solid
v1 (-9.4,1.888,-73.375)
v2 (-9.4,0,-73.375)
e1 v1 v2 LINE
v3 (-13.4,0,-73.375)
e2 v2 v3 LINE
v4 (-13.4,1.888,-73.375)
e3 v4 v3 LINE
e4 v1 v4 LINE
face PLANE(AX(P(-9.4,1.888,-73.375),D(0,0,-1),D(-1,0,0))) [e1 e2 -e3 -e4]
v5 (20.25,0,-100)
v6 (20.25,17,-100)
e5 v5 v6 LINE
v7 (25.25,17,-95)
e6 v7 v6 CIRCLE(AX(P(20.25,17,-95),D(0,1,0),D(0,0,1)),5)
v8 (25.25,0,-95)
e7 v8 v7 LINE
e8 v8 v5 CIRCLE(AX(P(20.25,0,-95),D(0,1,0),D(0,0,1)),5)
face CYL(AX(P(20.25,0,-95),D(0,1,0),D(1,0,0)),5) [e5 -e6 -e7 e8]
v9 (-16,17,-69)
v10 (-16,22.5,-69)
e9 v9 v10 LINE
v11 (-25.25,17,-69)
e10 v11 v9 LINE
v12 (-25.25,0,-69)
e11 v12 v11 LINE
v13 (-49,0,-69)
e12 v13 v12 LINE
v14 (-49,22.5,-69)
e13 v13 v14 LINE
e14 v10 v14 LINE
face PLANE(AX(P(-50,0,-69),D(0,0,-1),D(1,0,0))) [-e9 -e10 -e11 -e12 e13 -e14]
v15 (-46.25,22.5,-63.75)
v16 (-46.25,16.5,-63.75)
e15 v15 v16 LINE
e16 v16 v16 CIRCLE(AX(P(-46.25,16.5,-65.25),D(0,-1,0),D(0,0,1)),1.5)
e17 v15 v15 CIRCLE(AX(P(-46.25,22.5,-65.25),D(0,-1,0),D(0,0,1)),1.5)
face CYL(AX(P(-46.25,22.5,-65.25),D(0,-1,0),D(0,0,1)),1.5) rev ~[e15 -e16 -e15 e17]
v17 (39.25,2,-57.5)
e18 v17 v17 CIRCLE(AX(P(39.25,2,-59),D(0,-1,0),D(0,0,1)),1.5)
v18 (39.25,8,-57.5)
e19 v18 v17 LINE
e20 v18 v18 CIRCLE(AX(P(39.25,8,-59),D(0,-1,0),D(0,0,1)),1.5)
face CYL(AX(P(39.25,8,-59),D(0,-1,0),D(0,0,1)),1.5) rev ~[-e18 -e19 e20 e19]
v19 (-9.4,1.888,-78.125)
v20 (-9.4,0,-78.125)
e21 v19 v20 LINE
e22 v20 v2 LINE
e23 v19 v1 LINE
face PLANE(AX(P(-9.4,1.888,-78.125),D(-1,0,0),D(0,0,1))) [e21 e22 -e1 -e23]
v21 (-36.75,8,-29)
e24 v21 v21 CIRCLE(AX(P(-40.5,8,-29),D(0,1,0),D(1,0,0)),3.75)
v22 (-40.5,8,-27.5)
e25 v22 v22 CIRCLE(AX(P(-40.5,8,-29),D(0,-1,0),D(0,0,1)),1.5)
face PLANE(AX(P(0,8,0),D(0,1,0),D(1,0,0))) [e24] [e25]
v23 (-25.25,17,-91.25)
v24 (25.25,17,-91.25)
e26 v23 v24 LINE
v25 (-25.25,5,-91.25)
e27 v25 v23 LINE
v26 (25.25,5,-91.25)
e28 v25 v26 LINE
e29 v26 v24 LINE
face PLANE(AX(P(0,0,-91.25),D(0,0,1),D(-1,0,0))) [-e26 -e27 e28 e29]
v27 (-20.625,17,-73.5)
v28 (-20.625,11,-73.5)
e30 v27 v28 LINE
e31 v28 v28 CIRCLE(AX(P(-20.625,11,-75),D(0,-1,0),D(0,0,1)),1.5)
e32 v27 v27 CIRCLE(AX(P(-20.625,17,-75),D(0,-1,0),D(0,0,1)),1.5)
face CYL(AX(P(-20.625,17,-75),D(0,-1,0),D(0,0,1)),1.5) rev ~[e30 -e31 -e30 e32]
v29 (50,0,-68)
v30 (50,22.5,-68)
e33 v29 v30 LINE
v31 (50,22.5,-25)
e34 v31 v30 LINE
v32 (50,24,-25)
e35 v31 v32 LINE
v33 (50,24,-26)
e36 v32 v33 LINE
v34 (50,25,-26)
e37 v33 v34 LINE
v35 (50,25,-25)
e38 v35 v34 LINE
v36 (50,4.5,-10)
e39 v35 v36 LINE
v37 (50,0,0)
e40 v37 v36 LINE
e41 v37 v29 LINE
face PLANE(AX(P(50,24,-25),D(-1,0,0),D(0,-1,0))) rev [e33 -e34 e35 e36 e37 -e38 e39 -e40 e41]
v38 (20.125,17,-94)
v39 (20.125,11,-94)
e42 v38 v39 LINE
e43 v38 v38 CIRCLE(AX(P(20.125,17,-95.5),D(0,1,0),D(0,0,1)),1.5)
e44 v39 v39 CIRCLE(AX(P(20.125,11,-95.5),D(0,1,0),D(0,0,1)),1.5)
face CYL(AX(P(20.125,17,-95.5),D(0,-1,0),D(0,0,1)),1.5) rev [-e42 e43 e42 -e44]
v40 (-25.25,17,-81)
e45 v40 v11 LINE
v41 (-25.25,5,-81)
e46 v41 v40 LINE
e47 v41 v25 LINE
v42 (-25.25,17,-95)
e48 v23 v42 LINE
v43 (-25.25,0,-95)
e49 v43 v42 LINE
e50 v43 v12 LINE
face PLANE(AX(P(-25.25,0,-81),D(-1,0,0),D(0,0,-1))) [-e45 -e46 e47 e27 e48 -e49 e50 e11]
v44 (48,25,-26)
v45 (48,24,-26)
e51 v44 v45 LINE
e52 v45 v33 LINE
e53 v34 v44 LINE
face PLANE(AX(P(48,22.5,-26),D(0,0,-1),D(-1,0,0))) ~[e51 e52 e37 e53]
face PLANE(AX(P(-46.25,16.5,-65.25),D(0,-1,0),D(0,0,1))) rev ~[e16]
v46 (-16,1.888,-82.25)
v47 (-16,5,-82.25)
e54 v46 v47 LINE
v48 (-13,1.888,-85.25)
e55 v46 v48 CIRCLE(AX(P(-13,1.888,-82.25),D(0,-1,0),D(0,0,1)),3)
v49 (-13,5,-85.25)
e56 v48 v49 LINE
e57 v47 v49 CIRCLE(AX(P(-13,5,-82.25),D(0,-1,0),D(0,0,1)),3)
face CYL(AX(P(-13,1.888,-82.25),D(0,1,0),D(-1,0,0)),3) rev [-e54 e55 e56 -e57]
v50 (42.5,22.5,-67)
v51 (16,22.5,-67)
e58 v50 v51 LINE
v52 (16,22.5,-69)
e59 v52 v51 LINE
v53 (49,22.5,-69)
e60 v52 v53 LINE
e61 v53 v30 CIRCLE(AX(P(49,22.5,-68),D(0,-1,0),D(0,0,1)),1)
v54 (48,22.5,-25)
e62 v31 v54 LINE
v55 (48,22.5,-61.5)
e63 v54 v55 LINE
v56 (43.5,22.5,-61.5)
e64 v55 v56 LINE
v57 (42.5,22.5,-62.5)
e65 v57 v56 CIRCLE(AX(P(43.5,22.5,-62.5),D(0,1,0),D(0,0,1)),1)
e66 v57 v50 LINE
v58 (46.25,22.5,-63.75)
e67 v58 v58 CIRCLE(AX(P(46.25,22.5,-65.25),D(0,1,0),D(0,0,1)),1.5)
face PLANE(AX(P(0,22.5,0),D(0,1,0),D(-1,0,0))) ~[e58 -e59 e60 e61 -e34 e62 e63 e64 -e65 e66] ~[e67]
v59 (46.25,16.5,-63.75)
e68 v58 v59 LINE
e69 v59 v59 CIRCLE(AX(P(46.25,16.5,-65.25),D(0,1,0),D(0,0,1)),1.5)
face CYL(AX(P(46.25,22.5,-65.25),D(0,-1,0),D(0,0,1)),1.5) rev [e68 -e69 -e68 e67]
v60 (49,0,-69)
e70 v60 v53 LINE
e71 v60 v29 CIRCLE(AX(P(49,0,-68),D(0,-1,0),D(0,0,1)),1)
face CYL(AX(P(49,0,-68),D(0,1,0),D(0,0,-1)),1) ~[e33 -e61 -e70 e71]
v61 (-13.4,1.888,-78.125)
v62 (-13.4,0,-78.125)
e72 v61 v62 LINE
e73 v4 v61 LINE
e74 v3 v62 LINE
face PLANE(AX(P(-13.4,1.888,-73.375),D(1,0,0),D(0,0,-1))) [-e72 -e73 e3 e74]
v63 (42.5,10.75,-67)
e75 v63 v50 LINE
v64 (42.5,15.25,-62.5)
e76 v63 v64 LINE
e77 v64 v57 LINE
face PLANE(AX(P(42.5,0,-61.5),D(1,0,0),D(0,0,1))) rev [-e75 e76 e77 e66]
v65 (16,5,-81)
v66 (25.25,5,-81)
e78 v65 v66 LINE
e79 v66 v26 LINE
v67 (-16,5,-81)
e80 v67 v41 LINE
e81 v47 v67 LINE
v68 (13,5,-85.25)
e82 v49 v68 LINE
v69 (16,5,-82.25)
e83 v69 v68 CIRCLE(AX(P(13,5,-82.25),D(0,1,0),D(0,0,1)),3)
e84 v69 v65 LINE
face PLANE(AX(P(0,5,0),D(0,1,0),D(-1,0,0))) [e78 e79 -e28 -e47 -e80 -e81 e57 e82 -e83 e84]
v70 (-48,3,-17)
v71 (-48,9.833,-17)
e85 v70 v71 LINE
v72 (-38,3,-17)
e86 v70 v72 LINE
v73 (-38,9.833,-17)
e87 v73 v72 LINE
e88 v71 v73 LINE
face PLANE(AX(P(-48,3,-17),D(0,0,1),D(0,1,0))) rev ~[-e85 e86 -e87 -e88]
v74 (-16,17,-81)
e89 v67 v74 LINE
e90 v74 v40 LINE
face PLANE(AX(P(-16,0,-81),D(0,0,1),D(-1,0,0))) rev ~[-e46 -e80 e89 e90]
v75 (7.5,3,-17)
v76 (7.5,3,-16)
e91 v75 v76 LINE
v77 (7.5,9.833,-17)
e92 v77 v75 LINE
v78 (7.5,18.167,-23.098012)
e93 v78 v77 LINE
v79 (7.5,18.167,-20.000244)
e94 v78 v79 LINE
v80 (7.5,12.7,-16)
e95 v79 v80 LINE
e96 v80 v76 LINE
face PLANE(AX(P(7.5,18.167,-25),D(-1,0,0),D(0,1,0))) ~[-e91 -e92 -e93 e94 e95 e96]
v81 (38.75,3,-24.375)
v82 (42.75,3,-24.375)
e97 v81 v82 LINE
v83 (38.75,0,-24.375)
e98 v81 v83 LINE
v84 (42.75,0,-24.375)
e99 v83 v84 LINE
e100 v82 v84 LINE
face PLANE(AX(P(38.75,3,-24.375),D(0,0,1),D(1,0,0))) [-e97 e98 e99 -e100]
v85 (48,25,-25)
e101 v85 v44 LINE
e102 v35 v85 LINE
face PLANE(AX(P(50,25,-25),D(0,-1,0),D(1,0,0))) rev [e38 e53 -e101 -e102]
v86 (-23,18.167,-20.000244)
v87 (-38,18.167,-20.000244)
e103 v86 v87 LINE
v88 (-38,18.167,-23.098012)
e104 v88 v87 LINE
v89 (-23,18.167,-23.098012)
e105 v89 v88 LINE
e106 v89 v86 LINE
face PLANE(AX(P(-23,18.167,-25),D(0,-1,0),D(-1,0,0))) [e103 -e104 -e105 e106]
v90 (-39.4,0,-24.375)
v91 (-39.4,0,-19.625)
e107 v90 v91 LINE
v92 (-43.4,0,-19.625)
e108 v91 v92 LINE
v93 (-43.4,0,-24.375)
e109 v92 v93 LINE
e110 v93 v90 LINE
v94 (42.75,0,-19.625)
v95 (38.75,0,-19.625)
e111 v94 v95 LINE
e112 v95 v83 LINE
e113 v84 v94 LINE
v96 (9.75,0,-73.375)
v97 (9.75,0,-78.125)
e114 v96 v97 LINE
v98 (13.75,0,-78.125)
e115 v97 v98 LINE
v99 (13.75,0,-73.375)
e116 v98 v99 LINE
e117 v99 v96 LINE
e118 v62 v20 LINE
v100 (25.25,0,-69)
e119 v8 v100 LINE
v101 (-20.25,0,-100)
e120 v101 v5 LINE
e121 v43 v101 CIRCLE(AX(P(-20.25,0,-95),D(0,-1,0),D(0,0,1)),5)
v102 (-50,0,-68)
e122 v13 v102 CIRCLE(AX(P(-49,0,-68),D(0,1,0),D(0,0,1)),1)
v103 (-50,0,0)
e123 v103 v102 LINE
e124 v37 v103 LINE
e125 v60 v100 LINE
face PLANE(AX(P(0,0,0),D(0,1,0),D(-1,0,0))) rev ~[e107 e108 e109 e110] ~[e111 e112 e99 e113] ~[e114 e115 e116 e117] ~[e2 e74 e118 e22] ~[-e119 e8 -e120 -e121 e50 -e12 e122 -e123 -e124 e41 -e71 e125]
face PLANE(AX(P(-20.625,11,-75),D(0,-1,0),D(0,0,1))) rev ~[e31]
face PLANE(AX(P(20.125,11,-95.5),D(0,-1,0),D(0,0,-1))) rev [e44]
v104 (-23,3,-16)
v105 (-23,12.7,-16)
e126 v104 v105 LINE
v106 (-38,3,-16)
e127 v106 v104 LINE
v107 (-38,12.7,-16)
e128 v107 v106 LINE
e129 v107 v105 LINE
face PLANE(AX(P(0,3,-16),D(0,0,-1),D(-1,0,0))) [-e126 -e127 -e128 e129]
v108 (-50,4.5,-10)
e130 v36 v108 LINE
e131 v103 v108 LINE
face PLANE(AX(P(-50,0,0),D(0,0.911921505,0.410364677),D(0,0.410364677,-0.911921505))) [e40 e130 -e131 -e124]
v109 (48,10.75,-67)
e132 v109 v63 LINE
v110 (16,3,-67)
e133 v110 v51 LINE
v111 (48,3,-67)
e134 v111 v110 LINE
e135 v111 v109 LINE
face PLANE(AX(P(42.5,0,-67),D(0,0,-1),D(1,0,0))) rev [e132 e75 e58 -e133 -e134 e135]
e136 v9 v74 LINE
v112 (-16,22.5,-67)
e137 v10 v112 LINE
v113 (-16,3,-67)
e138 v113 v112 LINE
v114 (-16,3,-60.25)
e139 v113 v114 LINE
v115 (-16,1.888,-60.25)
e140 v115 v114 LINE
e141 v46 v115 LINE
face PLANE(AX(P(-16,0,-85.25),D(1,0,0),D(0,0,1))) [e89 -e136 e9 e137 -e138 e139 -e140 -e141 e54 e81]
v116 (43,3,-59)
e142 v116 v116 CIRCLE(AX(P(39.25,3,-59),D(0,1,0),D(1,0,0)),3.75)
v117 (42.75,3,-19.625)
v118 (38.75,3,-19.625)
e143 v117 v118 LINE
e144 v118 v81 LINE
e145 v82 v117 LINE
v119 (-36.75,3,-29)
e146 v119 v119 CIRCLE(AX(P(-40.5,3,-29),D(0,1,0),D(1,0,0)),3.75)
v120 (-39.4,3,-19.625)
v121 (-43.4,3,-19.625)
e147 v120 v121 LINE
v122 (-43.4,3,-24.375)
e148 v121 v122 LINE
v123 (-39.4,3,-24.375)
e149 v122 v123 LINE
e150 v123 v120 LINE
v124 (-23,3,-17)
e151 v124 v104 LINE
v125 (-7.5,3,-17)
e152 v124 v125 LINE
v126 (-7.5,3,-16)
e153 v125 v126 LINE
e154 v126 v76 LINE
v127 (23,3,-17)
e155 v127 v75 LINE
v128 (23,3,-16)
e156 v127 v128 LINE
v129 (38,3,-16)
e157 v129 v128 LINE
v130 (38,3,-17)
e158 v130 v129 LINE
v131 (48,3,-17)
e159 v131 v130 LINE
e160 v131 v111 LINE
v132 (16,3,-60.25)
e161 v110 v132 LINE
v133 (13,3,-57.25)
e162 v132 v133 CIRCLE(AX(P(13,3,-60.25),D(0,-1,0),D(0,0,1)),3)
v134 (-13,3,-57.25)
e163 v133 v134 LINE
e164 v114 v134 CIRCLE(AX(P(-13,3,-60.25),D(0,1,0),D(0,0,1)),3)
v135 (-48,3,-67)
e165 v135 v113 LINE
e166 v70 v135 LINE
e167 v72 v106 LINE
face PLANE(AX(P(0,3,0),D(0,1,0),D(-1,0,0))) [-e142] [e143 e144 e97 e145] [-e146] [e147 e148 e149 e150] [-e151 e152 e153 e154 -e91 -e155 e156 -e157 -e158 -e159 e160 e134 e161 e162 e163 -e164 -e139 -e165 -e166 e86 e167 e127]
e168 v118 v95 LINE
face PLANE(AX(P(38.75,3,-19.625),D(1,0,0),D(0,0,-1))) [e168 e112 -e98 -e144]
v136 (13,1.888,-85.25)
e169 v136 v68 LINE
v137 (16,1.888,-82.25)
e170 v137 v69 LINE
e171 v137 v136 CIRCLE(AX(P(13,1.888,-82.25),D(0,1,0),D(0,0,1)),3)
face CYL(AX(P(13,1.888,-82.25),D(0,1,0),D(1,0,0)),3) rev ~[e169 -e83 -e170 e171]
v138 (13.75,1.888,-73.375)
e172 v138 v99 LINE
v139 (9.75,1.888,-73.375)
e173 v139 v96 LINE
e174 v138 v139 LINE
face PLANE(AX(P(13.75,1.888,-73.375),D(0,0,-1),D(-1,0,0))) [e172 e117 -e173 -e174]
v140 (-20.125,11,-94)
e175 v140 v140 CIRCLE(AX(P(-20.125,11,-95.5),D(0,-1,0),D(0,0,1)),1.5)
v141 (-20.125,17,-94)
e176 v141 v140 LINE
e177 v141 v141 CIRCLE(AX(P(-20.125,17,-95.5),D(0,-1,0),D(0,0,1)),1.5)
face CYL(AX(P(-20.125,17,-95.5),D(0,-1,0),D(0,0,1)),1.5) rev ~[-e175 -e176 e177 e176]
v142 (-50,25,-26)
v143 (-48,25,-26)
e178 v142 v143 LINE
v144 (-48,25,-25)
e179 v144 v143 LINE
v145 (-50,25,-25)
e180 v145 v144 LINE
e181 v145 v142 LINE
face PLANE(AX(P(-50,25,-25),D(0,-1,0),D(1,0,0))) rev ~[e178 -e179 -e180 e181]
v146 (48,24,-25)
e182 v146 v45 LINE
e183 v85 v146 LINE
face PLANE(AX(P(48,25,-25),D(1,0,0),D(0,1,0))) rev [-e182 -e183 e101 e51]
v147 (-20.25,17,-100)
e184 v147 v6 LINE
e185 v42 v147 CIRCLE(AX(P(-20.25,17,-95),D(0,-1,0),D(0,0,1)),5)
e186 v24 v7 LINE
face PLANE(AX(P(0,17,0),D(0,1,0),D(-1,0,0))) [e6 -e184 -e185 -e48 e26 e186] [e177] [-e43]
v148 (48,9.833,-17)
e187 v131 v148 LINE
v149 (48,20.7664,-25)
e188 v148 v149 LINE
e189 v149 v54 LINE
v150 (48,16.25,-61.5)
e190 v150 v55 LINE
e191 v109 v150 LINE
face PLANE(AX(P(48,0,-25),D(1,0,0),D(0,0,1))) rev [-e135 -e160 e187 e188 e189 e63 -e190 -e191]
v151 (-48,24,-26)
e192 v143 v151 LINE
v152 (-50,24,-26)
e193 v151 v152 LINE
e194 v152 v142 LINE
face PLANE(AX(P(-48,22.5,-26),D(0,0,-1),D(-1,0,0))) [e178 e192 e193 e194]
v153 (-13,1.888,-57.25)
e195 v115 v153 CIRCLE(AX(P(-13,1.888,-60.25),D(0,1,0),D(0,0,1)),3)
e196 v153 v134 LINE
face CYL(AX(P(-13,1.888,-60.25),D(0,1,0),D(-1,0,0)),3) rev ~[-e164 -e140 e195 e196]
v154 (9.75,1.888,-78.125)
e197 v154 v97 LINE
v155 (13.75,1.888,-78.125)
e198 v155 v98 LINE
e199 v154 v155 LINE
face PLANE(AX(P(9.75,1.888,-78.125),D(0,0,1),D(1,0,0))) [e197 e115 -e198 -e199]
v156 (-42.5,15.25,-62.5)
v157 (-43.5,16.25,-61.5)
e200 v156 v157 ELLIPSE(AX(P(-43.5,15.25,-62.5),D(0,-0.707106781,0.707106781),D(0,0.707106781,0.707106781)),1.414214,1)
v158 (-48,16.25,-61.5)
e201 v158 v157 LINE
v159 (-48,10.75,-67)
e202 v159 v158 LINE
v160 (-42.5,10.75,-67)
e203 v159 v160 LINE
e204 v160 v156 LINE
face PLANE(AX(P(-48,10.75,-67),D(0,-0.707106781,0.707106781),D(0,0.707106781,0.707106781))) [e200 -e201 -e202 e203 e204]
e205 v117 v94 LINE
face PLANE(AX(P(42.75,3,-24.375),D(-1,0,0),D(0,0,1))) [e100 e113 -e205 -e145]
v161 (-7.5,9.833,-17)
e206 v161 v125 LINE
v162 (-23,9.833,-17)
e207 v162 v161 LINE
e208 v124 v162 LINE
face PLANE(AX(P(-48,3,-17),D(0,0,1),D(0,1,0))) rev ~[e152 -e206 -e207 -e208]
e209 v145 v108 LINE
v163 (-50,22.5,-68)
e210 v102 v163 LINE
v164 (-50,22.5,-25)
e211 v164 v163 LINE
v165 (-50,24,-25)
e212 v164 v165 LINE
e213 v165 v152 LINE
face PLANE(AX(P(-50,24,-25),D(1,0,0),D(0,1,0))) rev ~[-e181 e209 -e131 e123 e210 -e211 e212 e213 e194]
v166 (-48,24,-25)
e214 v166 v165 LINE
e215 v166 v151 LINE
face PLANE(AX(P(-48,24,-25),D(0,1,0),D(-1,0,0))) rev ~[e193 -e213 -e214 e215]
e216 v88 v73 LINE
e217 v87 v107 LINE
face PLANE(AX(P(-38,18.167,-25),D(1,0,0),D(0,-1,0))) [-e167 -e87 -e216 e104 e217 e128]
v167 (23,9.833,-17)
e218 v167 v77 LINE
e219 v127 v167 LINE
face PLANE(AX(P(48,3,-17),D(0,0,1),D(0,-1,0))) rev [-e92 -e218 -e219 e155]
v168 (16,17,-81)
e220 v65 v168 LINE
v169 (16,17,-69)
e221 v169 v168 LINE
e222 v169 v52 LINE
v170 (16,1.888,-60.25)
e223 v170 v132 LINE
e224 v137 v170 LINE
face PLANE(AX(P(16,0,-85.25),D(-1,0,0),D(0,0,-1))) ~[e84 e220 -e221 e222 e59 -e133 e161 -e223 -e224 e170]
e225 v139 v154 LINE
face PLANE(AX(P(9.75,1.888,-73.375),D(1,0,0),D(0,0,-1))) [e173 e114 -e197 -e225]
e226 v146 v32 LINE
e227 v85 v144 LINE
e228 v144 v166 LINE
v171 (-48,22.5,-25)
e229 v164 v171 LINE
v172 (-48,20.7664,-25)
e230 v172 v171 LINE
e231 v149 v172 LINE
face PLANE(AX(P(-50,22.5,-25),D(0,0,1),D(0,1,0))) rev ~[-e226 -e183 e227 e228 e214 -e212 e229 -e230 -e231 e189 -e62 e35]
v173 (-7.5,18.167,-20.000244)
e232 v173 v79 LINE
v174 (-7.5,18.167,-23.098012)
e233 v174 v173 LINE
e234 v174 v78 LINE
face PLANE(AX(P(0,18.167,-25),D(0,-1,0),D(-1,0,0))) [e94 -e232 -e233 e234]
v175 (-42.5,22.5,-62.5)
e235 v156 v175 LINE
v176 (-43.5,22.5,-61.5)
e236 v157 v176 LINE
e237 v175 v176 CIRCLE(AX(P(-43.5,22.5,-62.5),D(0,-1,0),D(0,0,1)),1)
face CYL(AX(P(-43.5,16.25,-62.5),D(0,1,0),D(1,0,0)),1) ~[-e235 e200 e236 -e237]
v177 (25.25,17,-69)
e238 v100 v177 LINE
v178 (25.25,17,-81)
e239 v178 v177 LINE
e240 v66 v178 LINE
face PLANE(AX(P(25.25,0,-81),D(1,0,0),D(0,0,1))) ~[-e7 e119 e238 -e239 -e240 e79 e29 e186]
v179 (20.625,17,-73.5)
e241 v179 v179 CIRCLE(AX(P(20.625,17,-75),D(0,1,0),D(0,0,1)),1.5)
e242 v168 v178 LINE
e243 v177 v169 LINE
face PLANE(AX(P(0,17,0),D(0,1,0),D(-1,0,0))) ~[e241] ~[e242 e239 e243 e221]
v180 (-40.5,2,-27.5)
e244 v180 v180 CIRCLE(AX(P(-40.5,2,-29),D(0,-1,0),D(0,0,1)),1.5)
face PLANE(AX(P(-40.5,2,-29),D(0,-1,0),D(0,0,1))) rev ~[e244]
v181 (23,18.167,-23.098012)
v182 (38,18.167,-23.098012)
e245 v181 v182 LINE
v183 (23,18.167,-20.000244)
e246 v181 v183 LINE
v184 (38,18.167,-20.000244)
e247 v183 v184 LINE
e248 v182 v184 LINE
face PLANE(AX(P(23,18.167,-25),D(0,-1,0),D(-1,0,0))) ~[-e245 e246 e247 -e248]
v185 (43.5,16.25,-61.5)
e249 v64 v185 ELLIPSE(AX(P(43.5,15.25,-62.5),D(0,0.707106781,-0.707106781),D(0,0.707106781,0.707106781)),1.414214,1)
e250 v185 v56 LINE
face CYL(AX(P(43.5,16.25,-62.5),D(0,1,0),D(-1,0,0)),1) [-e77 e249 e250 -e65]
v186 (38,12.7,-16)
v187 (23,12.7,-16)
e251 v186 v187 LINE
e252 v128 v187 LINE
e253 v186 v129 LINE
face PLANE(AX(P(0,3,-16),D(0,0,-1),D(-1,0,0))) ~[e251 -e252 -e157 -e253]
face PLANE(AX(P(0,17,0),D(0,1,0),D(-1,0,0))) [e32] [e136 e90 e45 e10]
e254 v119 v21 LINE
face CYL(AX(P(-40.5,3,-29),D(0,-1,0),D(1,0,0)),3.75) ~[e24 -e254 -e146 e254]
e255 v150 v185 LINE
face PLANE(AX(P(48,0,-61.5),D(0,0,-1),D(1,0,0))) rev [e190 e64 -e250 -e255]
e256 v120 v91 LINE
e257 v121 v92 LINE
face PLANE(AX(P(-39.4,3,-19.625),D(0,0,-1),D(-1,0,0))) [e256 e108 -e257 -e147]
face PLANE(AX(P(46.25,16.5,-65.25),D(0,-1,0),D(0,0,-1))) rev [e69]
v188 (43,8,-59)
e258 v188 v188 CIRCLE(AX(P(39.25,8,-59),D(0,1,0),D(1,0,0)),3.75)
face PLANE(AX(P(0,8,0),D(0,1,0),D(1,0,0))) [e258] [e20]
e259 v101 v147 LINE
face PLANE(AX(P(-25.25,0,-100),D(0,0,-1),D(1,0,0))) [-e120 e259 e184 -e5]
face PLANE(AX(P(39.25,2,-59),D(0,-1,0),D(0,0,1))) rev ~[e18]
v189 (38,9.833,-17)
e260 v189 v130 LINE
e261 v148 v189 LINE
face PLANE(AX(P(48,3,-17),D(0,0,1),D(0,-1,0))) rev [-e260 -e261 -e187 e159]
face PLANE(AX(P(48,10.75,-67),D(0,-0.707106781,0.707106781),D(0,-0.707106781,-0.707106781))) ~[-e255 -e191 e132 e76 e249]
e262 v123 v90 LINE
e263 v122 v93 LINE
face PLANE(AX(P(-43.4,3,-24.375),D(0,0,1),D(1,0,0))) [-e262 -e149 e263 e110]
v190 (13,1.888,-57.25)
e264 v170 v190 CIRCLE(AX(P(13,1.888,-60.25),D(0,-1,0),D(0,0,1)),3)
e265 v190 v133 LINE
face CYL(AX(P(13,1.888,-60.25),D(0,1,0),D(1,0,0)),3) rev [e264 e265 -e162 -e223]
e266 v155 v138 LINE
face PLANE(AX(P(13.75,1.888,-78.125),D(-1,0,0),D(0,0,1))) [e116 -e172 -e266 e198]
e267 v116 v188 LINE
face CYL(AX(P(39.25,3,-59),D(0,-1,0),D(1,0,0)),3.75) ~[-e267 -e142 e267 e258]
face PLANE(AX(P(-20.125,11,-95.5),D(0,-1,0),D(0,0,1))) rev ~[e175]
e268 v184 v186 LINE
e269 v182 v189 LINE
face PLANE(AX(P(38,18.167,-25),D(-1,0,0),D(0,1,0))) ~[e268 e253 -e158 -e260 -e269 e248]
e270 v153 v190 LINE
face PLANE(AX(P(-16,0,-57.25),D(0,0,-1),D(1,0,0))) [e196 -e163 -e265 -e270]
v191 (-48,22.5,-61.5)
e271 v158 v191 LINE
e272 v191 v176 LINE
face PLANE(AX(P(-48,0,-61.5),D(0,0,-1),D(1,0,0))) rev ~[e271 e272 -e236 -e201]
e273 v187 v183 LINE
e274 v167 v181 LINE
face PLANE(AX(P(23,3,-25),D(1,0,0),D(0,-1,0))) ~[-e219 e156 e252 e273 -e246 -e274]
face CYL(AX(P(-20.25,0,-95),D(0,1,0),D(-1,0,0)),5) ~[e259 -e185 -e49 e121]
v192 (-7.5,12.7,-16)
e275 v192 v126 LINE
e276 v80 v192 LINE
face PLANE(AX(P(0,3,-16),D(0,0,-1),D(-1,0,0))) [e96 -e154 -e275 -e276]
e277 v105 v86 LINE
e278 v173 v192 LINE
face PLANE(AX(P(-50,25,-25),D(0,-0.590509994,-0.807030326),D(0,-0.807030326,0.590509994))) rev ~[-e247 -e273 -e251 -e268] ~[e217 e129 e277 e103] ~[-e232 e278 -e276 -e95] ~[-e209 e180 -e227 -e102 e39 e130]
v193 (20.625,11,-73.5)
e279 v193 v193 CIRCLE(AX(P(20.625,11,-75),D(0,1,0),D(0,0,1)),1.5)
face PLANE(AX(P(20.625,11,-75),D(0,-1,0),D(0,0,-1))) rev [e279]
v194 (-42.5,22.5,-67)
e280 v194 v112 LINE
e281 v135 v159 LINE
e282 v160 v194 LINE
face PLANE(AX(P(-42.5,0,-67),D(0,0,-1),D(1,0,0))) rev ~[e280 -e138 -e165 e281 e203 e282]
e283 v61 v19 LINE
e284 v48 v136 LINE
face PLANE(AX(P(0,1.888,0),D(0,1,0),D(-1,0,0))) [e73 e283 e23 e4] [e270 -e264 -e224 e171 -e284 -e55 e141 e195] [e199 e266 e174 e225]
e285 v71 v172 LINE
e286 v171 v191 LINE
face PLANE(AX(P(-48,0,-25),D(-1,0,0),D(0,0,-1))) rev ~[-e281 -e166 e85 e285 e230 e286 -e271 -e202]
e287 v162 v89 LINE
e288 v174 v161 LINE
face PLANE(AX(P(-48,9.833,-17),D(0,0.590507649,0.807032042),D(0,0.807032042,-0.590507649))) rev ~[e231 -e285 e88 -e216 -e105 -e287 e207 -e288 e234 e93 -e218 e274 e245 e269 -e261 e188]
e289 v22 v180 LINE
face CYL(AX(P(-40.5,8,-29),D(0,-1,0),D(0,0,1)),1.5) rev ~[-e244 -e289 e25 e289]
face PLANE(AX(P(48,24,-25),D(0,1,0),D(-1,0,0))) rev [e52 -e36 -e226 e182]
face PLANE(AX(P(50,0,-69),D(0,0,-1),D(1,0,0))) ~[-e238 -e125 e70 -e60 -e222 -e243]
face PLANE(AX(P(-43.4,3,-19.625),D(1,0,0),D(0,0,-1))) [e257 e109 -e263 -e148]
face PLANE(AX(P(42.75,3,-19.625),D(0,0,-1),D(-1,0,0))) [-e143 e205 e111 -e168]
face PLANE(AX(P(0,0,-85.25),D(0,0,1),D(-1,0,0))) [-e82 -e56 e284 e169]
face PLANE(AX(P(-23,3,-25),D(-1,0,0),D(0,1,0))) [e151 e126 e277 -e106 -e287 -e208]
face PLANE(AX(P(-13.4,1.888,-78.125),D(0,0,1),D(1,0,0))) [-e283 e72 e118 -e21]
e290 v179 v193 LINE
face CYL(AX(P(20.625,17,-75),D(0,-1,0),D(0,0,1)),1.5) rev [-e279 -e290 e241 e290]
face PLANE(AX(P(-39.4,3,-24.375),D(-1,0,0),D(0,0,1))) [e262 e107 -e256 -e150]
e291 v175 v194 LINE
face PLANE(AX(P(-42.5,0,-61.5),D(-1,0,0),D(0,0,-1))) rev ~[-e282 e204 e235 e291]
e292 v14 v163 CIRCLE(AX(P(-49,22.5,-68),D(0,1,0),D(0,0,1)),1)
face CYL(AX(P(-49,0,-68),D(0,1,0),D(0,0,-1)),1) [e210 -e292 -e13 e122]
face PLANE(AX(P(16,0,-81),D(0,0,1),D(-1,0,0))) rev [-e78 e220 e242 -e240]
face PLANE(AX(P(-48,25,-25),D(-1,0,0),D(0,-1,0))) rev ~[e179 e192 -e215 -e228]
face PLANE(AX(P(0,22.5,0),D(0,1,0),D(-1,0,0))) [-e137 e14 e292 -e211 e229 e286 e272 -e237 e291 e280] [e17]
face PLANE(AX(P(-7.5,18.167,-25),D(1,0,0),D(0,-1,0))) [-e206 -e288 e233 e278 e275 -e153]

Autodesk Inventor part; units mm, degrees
ref_plane "YZ Plane" through (0, 0, 0) normal (1, 0, 0) x (0, 1, 0)
ref_plane "XZ Plane" through (0, 0, 0) normal (0, 1, 0) x (-1, 0, 0)
ref_plane "XY Plane" through (0, 0, 0) normal (0, 0, 1) x (1, 0, 0)
sketch "Náčrt1" plane through (0, 0, 0) normal (0, 1, 0) x (-1, 0, 0)
  line L0 (0, 0) -> (50, 0)
  line L1 (50, 0) -> (50, -69)
  line L2 (50, -69) -> (16, -69)
  line L3 (16, -69) -> (16, -81)
  line L4 (16, -81) -> (25.25, -81)
  line L5 (25.25, -81) -> (25.25, -69)
  line L6 (25.25, -81) -> (25.25, -91.25)
  line L7 (25.25, -91.25) -> (25.25, -100)
  line L8 (25.25, -100) -> (0, -100)
  line L9 (0, -100) -> (0, -91.25)
  line L10 (0, -91.25) -> (25.25, -91.25)
  line L11 (0, -91.25) -> (0, -85.25)
  line L12 (0, -85.25) -> (16, -85.25)
  line L13 (16, -85.25) -> (16, -81)
  line L14 (0, -85.25) -> (0, 0)
  line L15 (16, -69) -> (16, -57.25)
  line L16 (16, -57.25) -> (0, -57.25)
  line L17 (48, -25) -> (48, -61.5)
  line L18 (48, -61.5) -> (42.5, -61.5)
  line L19 (42.5, -61.5) -> (42.5, -67)
  line L20 (42.5, -67) -> (16, -67)
  line L21 (0, -25) -> (48, -25)
  dimension "d0" = 50
  dimension "d1" = 69
  dimension "d2" = 12
  dimension "d3" = 10.25
  dimension "d4" = 8.75
  dimension "d5" = 25.25
  dimension "d6" = 16
  dimension "d7" = 6
  dimension "d9" = 2
  dimension "d10" = 7.5
  dimension "d11" = 7.5
  dimension "d12" = 28
  dimension "d13" = 25
  dimension "d18" = 2
extrude "Vysunutí1" add sketch "Náčrt1" along normal blind 3 contours L21 L17 L18 L19 L20 L15 L16 L14
extrude "Vysunutí2" add sketch "Náčrt1" along normal blind 1.888 contours L16 L15 L3 L13 L12 L14
extrude "Vysunutí3" add sketch "Náčrt1" along normal blind 22.5 contours L0 L1 L2 L15 L20 L19 L18 L17 L21 L14
extrude "Vysunutí4" add sketch "Náčrt1" along normal blind 17 contours L5 L4 L3 L2 | L10 L7 L8 L9
extrude "Vysunutí15" add sketch "Náčrt1" along normal blind 5 contours L12 L13 L4 L6 L10 L11
sketch "Náčrt15" plane through (-48, 3, -61.5) normal (1, 0, 0) x (0, 0, -1)
  line L0 (5.5, 0) -> (5.5, 19.5) projected
  line L1 (0, 0) -> (0, 19.5) projected
  line L2 (0, 0) -> (5.5, 0)
  line L3 (5.5, 0) -> (5.5, 7.75)
  line L4 (5.5, 0) -> (5.5, 19.5) projected
  line L5 (5.5, 7.75) -> (0, 13.25)
  line L6 (0, 0) -> (0, 13.25)
  line L7 (0, 19.5) -> (5.5, 19.5) projected
  line L8 (0, 0) -> (-36.5, 0) projected
  point P0 (-61.5, -3)
  point P1 (5.5, 7.75)
  point P2 (2.75, 19.5)
  point P3 (2.75, 10.5)
  dimension "d107" = 45
  dimension "d110" = 9
extrude "Vysunutí14" cut sketch "Náčrt15" along normal up to surface (5.5 mm away) contours L2 L1 L5 L0
sketch "Náčrt2" plane through (-50, 0, -69) normal (-1, 0, 0) x (0, 0, 1)
  line L0 (69, 0) -> (69, 22.5) projected
  line L1 (69, 0) -> (59, 4.5)
  line L2 (0, 0) -> (69, 0) projected
  line L3 (44, 0) -> (44, 22.5)
  line L4 (44, 3) -> (44, 22.5) projected
  line L5 (44, 22.5) -> (44, 25)
  line L6 (44, 25) -> (59, 4.5)
  line L7 (0, 22.5) -> (69, 22.5) projected
  point P0 (45.8293, 22.5)
  dimension "d23" = 25
  dimension "d24" = 4.5
  dimension "d25" = 10
extrude "Vysunutí5" cut sketch "Náčrt2" against normal through all contours L1 L6 L7 L0
extrude "Vysunutí6" add sketch "Náčrt2" against normal up to surface (50 mm away) contours L7 L5 L6
sketch "Náčrt3" plane through (0, 3, -25) normal (0, 0, -1) x (-1, 0, 0)
  line L0 (23, 15.167) -> (38, 15.167)
  line L1 (38, 15.167) -> (38, 0)
  line L2 (38, 0) -> (23, 0)
  line L3 (23, 0) -> (23, 15.167)
  line L4 (0, 15.167) -> (7.5, 15.167)
  line L5 (7.5, 15.167) -> (7.5, 0)
  line L6 (7.5, 0) -> (0, 0)
  line L7 (0, 0) -> (0, 15.167)
  line L8 (50, -3) -> (0, -3) projected
  dimension "d30" = 15
  dimension "d31" = 7.5
  dimension "d32" = 15.167
  dimension "d33" = 3
  dimension "d34" = 15.5
extrude "Vysunutí7" cut sketch "Náčrt3" against normal blind 9
sketch "Náčrt7" plane through (-48, 3, -61.5) normal (1, 0, 0) x (0, 0, -1)
  line L0 (-51.5, 1.5) -> (-36.5, 22) projected
  line L1 (-36.5, 15.167) -> (-36.5, 0) projected
  line L2 (-36.5, 0) -> (-44.5, 0)
  line L3 (-36.5, 0) -> (-45.5, 0) projected
  line L4 (-44.5, 0) -> (-44.5, 6.833)
  line L5 (-44.5, 6.833) -> (-36.5, 17.7664)
  line L6 (-36.5, 17.7664) -> (-36.5, 0)
  point P0 (-61.5, -3)
  point P1 (-38.3293, 19.5)
  point P2 (-44.5, 0)
  point P3 (-36.5, 2)
  point P4 (-36.5, 2)
  dimension "d45" = 8
  dimension "d46" = 2.5
extrude "Vysunutí9" cut sketch "Náčrt7" along normal through all
sketch "Náčrt11" plane through (-48, 22.5, -25) normal (0, 0, -1) x (-1, 0, 0)
  line L0 (2, -18) -> (2, 2.5) projected
  line L1 (2, 2.5) -> (0, 2.5)
  line L2 (0, 2.5) -> (0, 1.5)
  line L3 (0, 1.5) -> (2, 1.5)
  point P0 (-48, -22.5)
  point P1 (0, 0)
  point P2 (-2, 0)
  dimension "d69" = 1
extrude "Vysunutí13" add sketch "Náčrt11" along normal blind 1
sketch "Náčrt12" plane through (0, 22.5, 0) normal (0, 1, 0) x (1, 0, 0)
  line L0 (-16, 69) -> (-50, 69) projected
  line L1 (-50, 69) -> (-50, 23.1707) projected
  point P0 (0, 0)
  point P1 (-46.25, 65.25)
  point P2 (-50, 25)
  dimension "d75" = 3.75
  dimension "d76" = 3.75
hole "Díra1" at (-46.25, 22.5, -65.25) direction (0, -1, 0) diameter 3 depth 6
sketch "Náčrt13" plane through (0, 17, 0) normal (0, 1, 0) x (1, 0, 0)
  line L0 (-16, 81) -> (-25.25, 81) projected
  line L1 (-25.25, 81) -> (-25.25, 69) projected
  point P0 (0, 0)
  point P1 (-20.625, 75)
  dimension "d84" = 6
  dimension "d85" = 4.625
hole "Díra2" at (-20.625, 17, -75) direction (0, -1, 0) diameter 3 depth 6
sketch "Náčrt14" plane through (0, 17, 0) normal (0, 1, 0) x (1, 0, 0)
  line L0 (-25.25, 100) -> (-25.25, 91.25) projected
  line L1 (0, 100) -> (-25.25, 100) projected
  point P0 (0, 0)
  point P1 (-20.125, 95.5)
  dimension "d93" = 5.125
  dimension "d101" = 4.5
hole "Díra3" at (-20.125, 17, -95.5) direction (0, -1, 0) diameter 3 depth 6
fillet "Zaoblení1" radius 3 2 edges at (-16, 2.444, -57.25) (-16, 3.444, -85.25)
fillet "Zaoblení2" radius 1 2 edges at (-42.5, 19.375, -61.5) (-50, 11.25, -69)
fillet "Zaoblení3" radius 5 1 edges at (-25.25, 8.5, -100)
mirror "Zrcadlit1" about plane through (0, 0, -25) normal (1, 0, 0)
sketch "Náčrt16" plane through (0, 1.888, 0) normal (0, 1, 0) x (1, 0, 0)
  line L0 (-9.4, 73.375) -> (-13.4, 73.375)
  line L1 (-13.4, 73.375) -> (-13.4, 78.125)
  line L2 (-13.4, 78.125) -> (-9.4, 78.125)
  line L3 (-9.4, 78.125) -> (-9.4, 73.375)
  line L4 (-16, 69) -> (-16, 81) projected
  line L5 (-13, 85.25) -> (13, 85.25) projected
  line L6 (13.75, 73.375) -> (9.75, 73.375)
  line L7 (9.75, 73.375) -> (9.75, 78.125)
  line L8 (9.75, 78.125) -> (13.75, 78.125)
  line L9 (13.75, 78.125) -> (13.75, 73.375)
  line L10 (16, 69) -> (16, 81) projected
  point P0 (0, 0)
  dimension "d128" = 4
  dimension "d129" = 4.75
  dimension "d130" = 2.6
  dimension "d131" = 7.125
  dimension "d134" = 2.25
extrude "Vysunutí16" cut sketch "Náčrt16" against normal through all
sketch "Náčrt17" plane through (0, 3, 0) normal (0, 1, 0) x (1, 0, 0)
  line L0 (-48, 17) -> (-38, 17) projected
  line L1 (-48, 17) -> (-48, 67) projected
  line L2 (48, 17) -> (38, 17) projected
  line L3 (48, 17) -> (48, 67) projected
  line L4 (-39.4, 19.625) -> (-43.4, 19.625)
  line L5 (-43.4, 19.625) -> (-43.4, 24.375)
  line L6 (-43.4, 24.375) -> (-39.4, 24.375)
  line L7 (-39.4, 24.375) -> (-39.4, 19.625)
  line L8 (42.75, 19.625) -> (38.75, 19.625)
  line L9 (38.75, 19.625) -> (38.75, 24.375)
  line L10 (38.75, 24.375) -> (42.75, 24.375)
  line L11 (42.75, 24.375) -> (42.75, 19.625)
  point P0 (0, 0)
  point P1 (-41.4, 19.625)
  point P2 (40.75, 19.625)
  dimension "d137" = 4
  dimension "d138" = 4.75
  dimension "d139" = 4.6
  dimension "d143" = 2.625
  dimension "d144" = 5.25
  dimension "d146" = 2.625
extrude "Vysunutí17" cut sketch "Náčrt17" against normal through all
sketch "Náčrt18" plane through (0, 3, 0) normal (0, 1, 0) x (1, 0, 0)
  circle A0 centre (39.25, 59) radius 3.75
  circle A1 centre (-40.5, 29) radius 3.75
  line L0 (42.5, 67) -> (16, 67) projected
  line L1 (48, 25) -> (48, 61.5) projected
  line L2 (-48, 17) -> (-38, 17) projected
  line L3 (-48, 17) -> (-48, 67) projected
  point P0 (0, 0)
  dimension "d149" = 7.5
  dimension "d150" = 8
  dimension "d151" = 8.75
  dimension "d152" = 12
  dimension "d153" = 7.5
extrude "Vysunutí18" add sketch "Náčrt18" along normal blind 5
sketch "Náčrt19" plane through (39.25, 8, -59) normal (0, 1, 0) x (1, 0, 0)
  circle A0 centre (0, 0) radius 3.75 projected
  point P0 (-39.25, -59)
hole "Díra4" at (39.25, 8, -59) direction (0, -1, 0) diameter 3 depth 6
sketch "Náčrt20" plane through (-40.5, 8, -29) normal (0, 1, 0) x (1, 0, 0)
  circle A0 centre (0, 0) radius 3.75 projected
  point P0 (40.5, -29)
hole "Díra5" at (-40.5, 8, -29) direction (0, -1, 0) diameter 3 depth 6
properties part number "Sumec_telo_V4.1"
